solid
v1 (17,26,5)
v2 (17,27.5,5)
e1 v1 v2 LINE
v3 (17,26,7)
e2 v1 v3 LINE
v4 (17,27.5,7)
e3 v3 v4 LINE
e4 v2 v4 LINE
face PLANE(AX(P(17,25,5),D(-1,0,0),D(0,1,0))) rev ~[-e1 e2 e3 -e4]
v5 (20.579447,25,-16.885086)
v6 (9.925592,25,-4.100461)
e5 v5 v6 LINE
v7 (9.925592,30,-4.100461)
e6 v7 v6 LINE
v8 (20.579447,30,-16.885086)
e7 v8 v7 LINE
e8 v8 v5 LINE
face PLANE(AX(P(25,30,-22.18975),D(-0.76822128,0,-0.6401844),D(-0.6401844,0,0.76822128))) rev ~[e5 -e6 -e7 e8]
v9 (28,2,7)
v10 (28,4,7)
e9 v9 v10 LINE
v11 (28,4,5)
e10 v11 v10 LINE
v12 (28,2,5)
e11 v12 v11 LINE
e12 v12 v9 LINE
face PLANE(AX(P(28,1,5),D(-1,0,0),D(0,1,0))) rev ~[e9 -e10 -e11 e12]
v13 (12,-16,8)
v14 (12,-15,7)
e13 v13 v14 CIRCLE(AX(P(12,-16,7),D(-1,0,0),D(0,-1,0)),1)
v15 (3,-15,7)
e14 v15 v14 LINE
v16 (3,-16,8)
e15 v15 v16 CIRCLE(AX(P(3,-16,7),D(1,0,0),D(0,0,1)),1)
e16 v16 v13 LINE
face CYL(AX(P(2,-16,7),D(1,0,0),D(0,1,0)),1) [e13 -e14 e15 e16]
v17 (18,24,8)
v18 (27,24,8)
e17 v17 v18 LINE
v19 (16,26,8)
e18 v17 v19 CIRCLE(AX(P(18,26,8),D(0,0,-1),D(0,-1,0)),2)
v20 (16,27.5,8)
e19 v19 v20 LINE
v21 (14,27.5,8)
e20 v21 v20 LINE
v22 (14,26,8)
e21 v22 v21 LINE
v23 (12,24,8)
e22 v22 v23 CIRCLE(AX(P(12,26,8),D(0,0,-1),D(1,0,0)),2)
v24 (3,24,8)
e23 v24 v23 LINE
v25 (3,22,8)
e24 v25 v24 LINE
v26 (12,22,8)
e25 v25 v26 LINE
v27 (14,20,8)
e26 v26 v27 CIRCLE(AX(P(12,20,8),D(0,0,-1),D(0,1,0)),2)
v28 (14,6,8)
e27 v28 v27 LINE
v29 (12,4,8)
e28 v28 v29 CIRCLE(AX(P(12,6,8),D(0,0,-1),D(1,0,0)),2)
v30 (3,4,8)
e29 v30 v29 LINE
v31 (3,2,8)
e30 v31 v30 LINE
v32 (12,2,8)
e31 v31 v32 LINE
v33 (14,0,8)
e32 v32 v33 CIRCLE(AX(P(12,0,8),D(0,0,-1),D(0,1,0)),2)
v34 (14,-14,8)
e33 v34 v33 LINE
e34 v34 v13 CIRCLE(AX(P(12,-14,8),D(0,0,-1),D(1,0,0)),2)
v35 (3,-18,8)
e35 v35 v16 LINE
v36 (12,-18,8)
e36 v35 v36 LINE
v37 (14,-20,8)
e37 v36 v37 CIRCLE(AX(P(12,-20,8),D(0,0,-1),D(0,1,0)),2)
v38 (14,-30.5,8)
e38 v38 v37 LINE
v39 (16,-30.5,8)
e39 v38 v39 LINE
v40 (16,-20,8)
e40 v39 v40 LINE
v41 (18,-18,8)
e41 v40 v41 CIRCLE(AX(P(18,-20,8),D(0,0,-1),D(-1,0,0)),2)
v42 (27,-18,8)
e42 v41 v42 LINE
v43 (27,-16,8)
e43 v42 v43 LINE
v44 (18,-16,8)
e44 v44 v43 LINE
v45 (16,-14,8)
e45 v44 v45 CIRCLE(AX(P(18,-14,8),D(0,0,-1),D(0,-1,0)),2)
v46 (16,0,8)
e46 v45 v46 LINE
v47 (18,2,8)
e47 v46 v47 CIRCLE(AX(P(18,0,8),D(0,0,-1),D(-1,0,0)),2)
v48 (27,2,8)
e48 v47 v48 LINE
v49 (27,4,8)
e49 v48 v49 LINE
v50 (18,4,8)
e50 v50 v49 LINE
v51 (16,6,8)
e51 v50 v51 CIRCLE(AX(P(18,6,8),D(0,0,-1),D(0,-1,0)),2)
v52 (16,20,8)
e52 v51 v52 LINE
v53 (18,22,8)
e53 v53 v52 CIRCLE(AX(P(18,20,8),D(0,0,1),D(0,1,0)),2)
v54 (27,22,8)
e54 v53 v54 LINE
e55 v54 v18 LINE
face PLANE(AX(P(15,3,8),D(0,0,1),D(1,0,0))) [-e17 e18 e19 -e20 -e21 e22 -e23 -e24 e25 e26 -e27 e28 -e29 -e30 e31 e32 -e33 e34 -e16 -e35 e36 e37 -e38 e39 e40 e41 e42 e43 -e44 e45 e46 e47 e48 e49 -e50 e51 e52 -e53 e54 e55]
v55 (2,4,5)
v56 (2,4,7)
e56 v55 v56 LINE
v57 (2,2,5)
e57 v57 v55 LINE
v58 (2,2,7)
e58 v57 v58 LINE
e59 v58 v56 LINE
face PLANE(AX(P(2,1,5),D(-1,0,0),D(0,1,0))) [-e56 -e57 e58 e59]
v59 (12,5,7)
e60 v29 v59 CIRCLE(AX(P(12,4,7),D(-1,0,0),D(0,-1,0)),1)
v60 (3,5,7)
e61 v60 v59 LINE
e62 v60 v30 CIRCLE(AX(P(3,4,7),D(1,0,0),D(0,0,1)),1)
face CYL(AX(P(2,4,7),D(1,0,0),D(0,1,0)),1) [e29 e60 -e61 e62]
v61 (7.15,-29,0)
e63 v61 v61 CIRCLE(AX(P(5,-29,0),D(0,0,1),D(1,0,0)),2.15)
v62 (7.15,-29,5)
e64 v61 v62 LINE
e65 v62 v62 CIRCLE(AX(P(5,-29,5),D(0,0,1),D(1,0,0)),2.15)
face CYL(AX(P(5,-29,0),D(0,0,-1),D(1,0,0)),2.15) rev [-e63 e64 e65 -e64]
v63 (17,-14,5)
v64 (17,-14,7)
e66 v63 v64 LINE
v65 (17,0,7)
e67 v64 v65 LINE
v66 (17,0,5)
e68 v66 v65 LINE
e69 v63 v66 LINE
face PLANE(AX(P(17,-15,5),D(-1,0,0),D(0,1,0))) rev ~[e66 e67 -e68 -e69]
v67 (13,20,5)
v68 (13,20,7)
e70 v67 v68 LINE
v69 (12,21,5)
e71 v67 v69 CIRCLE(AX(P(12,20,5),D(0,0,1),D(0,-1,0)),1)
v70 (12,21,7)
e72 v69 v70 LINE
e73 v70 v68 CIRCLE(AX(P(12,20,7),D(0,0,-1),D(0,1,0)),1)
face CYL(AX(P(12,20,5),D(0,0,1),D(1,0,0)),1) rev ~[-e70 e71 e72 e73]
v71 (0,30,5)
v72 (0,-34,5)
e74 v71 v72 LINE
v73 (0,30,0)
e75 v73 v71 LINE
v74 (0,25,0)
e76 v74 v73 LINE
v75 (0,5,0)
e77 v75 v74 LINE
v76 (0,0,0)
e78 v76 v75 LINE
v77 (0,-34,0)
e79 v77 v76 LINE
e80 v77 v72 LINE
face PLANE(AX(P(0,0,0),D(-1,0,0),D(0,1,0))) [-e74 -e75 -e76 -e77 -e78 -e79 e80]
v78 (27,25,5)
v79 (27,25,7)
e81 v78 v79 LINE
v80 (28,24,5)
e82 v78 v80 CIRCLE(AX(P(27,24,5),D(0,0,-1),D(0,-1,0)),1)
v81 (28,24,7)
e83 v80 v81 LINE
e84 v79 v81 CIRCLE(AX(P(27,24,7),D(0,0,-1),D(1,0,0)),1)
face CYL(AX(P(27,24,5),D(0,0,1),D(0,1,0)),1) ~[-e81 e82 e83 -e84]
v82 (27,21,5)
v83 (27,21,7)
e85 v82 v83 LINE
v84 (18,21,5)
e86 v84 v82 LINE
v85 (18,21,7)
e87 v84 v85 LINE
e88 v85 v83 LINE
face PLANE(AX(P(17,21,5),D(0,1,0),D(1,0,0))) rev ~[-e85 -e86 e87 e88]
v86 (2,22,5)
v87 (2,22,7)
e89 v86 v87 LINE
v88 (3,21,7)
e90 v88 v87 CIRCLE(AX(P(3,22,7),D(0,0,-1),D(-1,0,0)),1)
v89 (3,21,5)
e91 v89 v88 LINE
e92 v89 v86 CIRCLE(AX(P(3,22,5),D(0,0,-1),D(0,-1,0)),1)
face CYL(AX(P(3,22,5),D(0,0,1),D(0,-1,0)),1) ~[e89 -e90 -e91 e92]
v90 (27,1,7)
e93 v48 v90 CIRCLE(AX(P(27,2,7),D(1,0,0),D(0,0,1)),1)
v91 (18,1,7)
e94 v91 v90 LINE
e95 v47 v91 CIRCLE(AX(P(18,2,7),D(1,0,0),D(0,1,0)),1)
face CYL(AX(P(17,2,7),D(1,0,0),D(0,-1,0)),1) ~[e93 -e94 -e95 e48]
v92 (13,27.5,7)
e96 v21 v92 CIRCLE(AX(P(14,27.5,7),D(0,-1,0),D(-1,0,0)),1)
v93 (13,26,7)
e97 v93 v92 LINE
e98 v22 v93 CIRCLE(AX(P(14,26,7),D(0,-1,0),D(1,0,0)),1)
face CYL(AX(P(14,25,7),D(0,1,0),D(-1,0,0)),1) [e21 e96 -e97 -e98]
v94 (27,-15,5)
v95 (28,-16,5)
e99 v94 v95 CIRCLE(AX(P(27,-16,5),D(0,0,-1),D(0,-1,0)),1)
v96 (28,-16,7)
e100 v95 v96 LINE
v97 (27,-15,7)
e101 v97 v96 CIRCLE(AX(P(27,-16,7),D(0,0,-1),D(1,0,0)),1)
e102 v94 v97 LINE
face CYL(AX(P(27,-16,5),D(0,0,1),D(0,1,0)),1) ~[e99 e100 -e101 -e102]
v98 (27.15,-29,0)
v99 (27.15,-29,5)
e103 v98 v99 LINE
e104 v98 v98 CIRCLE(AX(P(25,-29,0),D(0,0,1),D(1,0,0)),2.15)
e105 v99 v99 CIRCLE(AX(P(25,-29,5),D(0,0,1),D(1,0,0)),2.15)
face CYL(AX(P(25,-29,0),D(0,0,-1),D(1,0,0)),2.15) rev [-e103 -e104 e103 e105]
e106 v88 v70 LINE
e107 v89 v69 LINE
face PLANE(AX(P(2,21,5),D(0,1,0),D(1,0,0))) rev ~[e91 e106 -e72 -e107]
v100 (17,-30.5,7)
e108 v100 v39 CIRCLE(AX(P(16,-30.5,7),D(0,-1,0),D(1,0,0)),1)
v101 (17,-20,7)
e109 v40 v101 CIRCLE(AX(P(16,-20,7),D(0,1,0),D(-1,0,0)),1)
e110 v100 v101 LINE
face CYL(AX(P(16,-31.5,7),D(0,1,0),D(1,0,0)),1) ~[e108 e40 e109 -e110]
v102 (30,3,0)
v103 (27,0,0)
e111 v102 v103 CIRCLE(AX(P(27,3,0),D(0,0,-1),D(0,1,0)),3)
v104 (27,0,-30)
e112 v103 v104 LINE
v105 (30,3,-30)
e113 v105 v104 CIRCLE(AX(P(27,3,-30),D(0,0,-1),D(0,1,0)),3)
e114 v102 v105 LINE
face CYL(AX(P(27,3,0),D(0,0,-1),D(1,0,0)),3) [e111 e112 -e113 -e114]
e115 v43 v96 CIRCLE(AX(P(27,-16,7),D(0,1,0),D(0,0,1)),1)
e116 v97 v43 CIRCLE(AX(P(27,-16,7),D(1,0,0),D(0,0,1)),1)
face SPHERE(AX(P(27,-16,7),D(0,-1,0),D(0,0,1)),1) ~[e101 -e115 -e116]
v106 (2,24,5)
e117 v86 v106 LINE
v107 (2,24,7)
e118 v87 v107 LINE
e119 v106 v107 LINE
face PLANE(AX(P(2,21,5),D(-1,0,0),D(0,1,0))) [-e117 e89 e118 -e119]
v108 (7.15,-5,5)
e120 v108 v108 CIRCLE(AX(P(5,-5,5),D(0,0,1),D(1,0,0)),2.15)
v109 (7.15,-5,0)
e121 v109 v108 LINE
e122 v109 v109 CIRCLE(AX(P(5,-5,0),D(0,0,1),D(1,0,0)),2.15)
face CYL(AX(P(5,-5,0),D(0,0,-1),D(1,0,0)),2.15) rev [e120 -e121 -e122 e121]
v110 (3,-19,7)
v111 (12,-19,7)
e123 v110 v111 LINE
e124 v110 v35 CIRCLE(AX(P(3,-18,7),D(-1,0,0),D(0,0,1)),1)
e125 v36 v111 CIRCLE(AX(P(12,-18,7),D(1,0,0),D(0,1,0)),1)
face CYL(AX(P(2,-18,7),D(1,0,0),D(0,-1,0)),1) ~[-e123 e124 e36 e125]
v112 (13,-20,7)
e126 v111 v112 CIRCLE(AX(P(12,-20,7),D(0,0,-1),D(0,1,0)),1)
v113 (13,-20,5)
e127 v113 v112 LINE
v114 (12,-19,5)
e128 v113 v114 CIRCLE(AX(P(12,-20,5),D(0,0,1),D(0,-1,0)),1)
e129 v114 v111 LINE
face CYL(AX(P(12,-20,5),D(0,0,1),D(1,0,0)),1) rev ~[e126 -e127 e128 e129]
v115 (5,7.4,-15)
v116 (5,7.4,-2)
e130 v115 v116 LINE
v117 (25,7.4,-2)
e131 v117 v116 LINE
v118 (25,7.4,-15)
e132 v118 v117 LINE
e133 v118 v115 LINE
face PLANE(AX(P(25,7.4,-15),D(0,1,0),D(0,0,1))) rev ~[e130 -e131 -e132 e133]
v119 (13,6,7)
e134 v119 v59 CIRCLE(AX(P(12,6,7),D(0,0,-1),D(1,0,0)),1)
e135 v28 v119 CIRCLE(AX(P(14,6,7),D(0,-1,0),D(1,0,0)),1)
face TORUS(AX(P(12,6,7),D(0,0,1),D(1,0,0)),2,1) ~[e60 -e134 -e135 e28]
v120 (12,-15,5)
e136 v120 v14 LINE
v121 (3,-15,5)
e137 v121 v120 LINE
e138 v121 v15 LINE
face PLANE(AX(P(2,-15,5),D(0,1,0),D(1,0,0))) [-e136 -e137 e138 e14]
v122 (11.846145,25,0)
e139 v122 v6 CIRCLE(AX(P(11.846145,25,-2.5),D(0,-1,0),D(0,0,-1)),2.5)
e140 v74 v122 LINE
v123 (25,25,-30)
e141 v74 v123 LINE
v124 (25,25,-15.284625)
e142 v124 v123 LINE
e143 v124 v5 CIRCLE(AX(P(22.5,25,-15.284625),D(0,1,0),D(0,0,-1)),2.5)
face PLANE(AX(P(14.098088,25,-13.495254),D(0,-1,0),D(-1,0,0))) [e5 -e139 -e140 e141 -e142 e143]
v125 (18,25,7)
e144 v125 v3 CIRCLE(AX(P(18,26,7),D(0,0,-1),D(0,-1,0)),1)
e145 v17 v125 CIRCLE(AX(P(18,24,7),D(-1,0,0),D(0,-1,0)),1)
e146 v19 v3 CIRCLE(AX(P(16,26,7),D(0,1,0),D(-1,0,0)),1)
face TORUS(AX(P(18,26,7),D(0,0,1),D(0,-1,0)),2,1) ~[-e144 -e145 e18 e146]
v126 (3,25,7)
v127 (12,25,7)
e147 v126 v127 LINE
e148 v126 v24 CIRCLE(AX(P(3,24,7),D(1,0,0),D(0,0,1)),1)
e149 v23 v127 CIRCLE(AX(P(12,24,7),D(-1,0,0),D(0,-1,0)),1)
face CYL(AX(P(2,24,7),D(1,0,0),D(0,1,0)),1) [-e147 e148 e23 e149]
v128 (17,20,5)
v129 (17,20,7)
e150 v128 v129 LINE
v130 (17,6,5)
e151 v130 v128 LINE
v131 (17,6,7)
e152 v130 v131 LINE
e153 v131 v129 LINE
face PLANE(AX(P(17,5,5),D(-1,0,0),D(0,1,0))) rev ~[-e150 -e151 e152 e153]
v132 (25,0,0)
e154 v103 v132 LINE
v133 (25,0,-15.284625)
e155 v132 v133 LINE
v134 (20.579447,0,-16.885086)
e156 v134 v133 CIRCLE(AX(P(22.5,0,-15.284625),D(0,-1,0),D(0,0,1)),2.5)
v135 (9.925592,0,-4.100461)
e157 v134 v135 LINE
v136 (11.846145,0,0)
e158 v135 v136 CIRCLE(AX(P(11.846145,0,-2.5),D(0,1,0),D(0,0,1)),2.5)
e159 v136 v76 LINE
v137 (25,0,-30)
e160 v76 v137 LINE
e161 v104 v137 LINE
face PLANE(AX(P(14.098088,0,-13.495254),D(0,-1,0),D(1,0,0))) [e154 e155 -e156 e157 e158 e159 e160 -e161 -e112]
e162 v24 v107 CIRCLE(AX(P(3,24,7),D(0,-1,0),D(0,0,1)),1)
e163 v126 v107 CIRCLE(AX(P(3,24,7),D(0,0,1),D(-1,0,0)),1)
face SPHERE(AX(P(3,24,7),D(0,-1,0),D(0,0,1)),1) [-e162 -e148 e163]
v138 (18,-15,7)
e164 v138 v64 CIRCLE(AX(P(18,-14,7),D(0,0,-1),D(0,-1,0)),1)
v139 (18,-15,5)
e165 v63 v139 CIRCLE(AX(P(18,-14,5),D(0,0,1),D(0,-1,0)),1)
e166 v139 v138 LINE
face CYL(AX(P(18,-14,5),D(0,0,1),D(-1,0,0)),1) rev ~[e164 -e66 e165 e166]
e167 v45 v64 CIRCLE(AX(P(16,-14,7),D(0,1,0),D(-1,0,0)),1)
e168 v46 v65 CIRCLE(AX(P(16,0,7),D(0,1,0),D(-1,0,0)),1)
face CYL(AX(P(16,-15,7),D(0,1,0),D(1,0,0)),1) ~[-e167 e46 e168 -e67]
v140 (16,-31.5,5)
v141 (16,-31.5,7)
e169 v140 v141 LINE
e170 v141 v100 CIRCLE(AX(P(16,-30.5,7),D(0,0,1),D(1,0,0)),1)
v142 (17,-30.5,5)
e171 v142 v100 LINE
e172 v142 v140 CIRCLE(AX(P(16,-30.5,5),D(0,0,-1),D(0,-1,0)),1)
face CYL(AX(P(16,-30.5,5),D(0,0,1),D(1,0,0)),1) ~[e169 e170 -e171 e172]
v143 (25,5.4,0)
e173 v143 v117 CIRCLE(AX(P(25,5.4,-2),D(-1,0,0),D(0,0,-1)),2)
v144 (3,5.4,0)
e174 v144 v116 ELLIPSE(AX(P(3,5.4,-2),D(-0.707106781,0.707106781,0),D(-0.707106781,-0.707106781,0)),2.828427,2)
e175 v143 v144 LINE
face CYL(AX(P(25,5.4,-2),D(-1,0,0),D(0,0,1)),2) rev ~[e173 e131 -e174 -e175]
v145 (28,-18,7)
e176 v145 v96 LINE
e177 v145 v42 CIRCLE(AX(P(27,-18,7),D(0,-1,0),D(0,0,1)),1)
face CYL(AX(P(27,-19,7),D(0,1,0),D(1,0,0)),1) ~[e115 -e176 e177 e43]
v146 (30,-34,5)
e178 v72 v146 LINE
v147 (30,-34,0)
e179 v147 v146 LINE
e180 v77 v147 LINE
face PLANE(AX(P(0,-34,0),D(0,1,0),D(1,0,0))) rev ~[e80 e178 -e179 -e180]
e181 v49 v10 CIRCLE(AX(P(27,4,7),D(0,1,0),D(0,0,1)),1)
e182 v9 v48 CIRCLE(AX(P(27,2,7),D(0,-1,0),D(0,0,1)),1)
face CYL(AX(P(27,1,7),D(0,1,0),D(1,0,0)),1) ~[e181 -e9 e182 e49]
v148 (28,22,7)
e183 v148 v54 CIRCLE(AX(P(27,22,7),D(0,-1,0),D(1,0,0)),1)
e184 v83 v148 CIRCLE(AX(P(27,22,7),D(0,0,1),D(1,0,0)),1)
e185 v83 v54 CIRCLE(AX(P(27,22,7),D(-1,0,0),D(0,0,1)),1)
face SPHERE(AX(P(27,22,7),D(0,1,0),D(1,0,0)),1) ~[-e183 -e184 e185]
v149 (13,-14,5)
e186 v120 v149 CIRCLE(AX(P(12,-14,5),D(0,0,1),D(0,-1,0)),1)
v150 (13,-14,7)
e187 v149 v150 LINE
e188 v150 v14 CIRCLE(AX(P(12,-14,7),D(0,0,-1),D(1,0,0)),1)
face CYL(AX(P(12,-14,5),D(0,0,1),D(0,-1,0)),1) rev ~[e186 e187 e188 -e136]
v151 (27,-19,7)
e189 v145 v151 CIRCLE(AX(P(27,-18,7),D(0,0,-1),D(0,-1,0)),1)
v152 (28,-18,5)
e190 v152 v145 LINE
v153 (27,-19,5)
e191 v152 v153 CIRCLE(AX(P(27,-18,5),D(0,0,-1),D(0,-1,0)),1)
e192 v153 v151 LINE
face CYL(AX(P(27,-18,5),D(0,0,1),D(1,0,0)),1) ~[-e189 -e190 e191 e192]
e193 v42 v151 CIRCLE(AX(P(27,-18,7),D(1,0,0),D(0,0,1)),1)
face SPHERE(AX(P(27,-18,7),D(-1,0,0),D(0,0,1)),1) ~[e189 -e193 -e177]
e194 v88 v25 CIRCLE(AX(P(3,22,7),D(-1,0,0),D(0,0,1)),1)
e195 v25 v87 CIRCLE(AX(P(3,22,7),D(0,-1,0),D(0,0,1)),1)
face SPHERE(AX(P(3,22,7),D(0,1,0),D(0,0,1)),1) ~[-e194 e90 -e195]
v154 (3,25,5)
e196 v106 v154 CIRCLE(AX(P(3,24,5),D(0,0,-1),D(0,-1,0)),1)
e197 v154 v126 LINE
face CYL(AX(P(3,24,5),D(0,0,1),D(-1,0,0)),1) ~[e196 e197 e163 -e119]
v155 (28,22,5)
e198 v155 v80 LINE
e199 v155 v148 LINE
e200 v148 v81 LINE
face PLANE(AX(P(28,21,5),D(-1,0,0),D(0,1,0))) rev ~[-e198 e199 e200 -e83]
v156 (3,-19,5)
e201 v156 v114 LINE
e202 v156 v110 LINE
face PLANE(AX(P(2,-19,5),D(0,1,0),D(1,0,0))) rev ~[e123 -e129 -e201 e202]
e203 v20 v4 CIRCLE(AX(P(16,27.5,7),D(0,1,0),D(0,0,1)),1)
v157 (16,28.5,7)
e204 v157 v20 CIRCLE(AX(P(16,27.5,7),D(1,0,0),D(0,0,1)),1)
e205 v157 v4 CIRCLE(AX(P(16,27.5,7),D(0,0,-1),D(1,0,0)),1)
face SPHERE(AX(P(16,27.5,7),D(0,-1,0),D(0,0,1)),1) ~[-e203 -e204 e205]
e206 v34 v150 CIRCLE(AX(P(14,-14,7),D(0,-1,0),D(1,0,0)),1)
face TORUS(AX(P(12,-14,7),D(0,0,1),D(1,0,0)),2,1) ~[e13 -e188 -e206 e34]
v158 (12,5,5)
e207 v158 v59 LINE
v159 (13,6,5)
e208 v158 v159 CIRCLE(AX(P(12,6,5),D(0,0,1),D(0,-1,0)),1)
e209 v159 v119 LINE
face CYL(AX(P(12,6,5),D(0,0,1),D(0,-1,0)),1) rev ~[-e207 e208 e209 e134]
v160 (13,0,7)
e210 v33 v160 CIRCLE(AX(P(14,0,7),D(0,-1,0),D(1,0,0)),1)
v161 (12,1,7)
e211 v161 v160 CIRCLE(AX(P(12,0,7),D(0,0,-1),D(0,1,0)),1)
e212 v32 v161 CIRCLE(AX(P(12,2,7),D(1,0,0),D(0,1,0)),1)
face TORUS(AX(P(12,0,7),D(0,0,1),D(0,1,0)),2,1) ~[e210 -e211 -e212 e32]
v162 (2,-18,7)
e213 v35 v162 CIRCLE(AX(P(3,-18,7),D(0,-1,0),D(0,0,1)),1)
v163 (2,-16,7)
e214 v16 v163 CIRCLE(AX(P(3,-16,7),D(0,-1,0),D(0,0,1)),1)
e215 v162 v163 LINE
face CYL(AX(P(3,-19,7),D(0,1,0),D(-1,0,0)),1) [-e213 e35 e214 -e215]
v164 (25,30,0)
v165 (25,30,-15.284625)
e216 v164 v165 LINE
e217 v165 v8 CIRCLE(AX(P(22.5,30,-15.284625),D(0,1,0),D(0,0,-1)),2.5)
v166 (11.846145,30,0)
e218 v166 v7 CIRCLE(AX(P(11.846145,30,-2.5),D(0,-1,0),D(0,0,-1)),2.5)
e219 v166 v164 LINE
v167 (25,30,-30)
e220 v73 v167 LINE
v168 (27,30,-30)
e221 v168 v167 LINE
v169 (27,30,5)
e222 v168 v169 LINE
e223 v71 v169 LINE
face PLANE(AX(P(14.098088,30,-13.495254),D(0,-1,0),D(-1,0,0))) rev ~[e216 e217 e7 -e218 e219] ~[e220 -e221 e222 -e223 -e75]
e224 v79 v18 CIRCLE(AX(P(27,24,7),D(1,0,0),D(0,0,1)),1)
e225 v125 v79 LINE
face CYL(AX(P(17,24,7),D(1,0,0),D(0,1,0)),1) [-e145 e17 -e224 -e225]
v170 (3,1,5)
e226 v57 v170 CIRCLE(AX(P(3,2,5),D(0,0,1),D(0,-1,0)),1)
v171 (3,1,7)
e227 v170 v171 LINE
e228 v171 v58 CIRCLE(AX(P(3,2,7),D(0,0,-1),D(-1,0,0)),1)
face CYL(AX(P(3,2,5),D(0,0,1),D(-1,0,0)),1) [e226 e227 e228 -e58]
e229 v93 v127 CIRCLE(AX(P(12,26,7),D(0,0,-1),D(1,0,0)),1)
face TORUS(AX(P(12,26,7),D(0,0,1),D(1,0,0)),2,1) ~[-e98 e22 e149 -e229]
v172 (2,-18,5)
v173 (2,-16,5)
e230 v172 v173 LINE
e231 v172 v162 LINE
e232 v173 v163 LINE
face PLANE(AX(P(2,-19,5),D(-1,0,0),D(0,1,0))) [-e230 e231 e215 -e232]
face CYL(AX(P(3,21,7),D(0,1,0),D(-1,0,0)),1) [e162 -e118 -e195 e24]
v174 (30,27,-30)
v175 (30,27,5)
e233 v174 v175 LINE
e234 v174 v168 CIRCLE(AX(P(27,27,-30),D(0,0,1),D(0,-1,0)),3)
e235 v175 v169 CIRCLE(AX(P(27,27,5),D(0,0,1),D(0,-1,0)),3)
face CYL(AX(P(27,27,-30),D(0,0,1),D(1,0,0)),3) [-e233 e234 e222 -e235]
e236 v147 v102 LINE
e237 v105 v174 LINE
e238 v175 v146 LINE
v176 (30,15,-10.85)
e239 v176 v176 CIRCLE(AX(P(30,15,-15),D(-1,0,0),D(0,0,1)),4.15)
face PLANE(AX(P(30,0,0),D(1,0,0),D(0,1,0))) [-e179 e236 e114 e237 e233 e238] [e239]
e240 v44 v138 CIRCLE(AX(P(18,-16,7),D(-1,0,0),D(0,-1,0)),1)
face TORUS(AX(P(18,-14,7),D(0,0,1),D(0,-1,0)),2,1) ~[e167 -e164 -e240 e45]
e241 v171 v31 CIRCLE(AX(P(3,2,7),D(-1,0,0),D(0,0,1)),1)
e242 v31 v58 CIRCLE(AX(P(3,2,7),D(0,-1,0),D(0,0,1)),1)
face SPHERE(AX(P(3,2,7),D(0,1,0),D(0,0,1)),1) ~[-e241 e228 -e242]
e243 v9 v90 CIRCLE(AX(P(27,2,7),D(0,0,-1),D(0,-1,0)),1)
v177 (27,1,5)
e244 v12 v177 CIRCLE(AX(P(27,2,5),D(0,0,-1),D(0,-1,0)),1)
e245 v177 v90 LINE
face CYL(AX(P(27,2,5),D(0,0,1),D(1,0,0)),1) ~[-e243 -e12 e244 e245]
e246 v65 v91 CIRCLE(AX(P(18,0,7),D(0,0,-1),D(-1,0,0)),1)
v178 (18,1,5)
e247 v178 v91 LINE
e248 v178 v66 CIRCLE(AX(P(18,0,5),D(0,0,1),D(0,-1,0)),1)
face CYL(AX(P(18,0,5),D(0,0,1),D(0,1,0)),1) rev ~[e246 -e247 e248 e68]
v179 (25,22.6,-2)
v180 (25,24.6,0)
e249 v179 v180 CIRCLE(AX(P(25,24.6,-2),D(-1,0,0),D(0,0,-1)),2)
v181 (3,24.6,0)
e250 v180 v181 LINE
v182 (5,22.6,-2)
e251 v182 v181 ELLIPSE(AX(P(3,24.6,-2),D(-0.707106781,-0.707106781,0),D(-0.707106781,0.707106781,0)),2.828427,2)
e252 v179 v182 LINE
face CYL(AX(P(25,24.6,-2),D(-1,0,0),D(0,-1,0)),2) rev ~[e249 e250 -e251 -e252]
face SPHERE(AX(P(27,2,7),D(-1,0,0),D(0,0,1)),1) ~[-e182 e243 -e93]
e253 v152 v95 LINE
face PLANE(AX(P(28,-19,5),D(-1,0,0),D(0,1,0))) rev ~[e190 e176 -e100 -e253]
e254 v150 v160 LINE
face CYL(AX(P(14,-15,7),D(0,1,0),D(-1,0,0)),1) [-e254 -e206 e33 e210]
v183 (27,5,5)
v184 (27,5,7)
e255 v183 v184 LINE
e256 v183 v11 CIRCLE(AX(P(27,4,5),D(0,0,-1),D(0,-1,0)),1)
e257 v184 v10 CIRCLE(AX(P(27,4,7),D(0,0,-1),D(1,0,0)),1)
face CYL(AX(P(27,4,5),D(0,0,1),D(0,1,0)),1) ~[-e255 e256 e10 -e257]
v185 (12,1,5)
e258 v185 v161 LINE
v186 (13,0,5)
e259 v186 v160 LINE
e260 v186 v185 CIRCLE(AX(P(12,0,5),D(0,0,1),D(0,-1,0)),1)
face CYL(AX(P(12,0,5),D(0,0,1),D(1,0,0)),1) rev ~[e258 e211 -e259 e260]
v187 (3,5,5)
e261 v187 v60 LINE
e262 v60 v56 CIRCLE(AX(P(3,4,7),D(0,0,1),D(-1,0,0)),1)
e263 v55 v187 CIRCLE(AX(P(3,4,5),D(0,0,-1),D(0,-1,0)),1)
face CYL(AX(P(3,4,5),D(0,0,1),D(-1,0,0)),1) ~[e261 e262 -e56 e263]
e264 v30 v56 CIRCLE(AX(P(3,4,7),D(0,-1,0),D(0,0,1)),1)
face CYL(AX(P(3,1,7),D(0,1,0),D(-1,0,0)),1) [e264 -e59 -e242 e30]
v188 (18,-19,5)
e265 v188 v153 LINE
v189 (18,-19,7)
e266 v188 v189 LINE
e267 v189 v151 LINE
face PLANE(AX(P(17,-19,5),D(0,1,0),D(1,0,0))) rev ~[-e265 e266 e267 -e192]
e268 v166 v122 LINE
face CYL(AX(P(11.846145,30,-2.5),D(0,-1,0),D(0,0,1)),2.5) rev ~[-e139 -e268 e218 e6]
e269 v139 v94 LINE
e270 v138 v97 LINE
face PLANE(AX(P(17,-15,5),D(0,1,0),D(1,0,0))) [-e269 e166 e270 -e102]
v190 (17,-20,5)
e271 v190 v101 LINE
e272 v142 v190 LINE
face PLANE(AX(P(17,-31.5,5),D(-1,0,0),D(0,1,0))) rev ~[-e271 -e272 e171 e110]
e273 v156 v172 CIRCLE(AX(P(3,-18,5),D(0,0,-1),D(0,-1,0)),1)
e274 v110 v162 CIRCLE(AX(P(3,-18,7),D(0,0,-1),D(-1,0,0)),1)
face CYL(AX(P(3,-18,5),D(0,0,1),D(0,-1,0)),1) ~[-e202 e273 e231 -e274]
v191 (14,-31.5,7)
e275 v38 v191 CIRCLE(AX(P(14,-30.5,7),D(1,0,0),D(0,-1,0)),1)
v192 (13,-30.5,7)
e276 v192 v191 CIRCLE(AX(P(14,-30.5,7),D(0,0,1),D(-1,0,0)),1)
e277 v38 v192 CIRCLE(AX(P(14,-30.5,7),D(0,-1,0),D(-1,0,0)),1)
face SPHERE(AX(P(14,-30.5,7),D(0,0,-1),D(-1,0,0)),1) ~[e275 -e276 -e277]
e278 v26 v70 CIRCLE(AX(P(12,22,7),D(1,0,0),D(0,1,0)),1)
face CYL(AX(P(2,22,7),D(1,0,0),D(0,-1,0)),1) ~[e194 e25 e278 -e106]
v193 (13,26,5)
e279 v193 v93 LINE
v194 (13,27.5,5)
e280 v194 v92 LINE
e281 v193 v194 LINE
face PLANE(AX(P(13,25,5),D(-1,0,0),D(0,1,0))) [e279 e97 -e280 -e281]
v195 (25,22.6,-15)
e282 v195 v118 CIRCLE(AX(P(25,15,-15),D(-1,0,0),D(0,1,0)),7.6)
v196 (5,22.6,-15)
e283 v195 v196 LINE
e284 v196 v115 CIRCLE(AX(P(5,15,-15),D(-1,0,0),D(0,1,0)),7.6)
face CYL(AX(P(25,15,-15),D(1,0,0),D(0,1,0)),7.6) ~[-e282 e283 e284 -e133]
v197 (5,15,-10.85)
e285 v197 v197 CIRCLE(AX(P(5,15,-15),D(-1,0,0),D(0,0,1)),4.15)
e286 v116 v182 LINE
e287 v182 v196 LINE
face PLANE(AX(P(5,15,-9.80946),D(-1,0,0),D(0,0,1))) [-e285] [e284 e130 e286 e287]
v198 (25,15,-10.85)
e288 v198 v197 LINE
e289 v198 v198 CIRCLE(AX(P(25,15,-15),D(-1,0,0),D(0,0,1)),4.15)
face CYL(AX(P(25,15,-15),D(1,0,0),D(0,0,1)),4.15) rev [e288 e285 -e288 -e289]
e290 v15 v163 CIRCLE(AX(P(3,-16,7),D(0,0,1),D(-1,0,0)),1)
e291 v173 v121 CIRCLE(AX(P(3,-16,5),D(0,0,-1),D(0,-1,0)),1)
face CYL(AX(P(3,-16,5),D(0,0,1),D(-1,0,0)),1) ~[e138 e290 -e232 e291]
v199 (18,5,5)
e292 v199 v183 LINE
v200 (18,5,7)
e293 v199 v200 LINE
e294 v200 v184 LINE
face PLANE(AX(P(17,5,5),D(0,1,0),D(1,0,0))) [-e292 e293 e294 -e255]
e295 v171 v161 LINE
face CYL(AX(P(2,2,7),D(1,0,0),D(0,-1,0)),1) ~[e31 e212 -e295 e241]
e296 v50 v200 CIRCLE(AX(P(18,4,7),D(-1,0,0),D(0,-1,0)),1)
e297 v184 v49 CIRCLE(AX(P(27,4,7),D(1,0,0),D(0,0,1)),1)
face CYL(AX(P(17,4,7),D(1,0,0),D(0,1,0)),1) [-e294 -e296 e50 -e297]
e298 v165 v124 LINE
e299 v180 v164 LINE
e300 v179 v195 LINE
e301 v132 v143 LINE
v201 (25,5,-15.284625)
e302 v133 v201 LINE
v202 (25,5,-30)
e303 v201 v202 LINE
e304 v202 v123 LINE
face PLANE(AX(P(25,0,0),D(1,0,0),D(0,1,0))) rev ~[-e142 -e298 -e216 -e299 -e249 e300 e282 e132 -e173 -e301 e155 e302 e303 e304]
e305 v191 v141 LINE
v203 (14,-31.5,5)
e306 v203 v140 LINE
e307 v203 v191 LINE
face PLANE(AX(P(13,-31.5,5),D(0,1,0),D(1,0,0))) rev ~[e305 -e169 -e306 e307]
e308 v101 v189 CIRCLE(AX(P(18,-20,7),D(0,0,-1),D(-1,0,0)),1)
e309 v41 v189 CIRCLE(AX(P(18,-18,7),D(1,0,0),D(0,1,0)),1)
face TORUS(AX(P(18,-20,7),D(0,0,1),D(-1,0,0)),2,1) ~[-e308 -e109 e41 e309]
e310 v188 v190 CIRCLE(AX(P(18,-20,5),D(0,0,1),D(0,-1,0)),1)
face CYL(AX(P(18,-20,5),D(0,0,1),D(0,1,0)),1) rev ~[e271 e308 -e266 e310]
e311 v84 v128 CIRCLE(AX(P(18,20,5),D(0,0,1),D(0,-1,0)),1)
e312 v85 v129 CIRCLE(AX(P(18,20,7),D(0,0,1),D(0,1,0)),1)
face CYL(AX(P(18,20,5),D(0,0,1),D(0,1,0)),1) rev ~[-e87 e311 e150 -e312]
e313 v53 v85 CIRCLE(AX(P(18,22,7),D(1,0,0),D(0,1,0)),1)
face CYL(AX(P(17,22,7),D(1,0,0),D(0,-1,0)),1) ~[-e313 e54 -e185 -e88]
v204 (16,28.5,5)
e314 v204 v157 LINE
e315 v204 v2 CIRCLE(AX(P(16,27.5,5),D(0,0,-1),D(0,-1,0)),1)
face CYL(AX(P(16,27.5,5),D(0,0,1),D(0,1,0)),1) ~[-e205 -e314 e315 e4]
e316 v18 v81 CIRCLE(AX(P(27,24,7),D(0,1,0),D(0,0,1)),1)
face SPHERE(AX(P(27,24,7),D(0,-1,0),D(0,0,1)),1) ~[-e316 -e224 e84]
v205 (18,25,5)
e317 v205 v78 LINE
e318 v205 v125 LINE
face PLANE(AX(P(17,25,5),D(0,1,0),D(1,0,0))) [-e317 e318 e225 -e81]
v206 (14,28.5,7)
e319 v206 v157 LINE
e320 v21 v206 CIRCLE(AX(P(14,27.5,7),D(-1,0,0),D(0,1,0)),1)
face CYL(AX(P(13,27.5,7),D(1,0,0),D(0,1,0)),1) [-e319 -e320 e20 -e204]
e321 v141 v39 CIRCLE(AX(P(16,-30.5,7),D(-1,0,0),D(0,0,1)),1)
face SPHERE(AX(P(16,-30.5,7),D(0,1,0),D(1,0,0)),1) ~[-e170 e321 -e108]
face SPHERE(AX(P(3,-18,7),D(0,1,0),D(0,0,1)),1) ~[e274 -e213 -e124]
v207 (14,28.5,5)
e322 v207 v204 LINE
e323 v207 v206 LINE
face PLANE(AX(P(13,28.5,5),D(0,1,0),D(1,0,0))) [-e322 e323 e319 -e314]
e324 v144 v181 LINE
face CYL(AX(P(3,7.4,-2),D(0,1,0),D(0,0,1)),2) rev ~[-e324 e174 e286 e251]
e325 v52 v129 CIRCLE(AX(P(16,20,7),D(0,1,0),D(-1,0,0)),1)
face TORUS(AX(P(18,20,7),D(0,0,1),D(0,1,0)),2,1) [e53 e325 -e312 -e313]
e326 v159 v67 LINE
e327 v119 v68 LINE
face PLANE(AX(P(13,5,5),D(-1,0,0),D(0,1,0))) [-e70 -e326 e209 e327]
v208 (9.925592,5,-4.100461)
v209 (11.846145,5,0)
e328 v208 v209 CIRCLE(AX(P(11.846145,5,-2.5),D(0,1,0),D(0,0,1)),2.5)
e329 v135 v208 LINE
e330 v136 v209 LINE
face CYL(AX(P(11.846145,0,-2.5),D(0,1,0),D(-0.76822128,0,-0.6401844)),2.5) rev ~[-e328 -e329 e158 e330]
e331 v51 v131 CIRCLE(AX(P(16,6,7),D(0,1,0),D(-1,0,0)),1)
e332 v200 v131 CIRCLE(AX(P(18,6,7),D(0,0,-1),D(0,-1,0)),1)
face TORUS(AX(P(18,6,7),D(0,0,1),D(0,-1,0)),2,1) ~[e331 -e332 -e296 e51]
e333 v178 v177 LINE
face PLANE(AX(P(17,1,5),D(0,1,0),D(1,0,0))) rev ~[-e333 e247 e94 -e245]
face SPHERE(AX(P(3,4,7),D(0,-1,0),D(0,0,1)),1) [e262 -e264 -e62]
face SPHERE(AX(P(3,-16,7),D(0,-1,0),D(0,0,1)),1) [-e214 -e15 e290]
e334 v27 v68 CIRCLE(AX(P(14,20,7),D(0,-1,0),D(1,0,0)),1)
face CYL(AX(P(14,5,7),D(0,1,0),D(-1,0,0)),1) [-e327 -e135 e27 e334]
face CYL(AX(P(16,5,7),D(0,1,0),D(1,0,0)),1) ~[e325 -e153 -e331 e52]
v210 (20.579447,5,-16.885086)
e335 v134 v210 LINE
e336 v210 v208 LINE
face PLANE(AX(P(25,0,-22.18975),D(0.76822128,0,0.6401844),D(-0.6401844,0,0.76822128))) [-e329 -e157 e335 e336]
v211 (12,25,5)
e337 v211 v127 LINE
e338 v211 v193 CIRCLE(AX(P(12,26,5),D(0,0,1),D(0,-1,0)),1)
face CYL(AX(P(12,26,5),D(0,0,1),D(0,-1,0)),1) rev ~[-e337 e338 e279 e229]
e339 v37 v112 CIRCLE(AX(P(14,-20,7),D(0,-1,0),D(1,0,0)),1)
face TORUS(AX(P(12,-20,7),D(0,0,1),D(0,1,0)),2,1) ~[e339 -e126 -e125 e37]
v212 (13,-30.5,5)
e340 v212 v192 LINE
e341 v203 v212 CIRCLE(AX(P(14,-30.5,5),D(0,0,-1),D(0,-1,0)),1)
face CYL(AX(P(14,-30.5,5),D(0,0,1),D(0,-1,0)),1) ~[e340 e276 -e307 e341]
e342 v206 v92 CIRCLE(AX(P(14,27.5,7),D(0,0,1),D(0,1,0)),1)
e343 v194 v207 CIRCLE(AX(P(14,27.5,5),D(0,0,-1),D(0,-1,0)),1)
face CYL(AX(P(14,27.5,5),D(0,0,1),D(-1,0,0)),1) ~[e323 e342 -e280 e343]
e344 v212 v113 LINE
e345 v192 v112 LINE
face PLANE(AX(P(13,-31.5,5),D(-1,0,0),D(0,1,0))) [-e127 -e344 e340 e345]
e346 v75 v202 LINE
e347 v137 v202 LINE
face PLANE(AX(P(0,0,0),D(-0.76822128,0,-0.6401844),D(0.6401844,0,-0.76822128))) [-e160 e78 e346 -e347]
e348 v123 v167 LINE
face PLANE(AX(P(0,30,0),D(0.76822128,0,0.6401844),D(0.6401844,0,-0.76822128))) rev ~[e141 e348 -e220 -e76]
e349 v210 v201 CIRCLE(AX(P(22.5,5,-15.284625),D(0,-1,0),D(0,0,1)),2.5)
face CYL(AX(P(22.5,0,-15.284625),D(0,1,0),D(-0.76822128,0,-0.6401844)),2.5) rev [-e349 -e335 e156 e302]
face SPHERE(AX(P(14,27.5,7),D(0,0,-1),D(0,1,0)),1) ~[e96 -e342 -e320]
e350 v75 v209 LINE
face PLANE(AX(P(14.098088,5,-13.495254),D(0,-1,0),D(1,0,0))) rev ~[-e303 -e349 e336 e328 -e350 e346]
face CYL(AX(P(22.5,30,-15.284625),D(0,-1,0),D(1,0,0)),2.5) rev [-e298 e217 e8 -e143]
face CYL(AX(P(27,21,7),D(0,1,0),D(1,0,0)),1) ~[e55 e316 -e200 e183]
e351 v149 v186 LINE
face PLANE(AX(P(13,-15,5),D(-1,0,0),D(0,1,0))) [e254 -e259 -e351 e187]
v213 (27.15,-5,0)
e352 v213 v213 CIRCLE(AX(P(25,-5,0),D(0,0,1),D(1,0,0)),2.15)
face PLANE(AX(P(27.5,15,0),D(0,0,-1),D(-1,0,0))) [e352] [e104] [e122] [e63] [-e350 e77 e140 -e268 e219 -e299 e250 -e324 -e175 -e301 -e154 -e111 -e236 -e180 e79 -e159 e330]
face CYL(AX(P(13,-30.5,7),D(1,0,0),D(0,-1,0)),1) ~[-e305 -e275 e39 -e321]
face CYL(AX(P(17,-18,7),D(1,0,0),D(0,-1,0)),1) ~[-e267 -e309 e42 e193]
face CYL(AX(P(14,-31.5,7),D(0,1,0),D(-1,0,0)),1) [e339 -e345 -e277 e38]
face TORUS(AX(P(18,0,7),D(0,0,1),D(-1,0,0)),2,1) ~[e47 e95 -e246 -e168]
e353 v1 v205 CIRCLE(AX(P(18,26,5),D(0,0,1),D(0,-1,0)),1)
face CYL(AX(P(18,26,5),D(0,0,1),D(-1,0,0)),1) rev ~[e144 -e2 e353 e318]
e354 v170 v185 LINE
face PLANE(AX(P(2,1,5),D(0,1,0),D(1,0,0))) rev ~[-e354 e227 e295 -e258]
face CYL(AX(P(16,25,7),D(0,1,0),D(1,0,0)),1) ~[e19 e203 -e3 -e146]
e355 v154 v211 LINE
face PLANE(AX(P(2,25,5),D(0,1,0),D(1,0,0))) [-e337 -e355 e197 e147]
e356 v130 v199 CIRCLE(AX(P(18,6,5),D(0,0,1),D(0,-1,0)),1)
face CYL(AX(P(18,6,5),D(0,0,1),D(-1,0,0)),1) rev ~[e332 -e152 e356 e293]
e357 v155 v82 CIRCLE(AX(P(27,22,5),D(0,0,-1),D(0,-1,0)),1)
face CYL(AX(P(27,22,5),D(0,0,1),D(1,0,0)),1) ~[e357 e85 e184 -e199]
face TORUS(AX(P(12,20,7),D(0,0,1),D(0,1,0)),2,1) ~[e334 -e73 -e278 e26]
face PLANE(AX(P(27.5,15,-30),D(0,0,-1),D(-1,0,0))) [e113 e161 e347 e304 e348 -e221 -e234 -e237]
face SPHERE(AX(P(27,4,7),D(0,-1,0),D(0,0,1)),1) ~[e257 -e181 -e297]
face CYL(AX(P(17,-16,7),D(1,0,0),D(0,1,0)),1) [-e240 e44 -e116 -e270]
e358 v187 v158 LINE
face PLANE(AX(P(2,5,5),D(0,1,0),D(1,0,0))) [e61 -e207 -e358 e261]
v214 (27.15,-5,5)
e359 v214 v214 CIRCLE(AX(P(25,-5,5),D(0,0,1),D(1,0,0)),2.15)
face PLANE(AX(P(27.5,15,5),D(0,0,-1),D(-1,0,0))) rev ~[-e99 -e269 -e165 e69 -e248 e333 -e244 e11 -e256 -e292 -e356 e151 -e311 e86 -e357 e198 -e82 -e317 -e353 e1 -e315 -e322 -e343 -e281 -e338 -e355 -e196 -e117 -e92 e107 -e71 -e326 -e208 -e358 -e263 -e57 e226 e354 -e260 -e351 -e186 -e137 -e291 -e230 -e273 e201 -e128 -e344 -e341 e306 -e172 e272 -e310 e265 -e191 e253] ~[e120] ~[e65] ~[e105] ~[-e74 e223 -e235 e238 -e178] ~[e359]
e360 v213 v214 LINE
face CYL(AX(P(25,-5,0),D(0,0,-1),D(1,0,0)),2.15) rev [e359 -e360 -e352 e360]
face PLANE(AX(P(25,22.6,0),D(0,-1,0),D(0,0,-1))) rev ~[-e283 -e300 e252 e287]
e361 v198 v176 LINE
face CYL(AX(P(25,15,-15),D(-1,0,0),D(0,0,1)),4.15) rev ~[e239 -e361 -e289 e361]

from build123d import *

# Parameters (mm, degrees)
SKETCH3_W           = 30
SKETCH3_H           = 34
SKETCH3_R           = 2.15
BOSS_EXTRUDE1_DEPTH = 5
SKETCH5_W           = 5
SKETCH5_H           = 30
SKETCH5_W_2         = 25
BOSS_EXTRUDE4_DEPTH = 5
SKETCH6_W           = 5
SKETCH6_H           = 30
BOSS_EXTRUDE5_DEPTH = 30
SKETCH7_W           = 26
SKETCH7_H           = 4
SKETCH7_W_2         = 4
SKETCH7_H_2         = 60
BOSS_EXTRUDE6_DEPTH = 3
FILLET1_R           = 1
BOSS_EXTRUDE7_DEPTH = 5
BOSS_EXTRUDE8_DEPTH = 5
FILLET2_R           = 2.5
SKETCH11_R          = 4.15
CUT_EXTRUDE1_DEPTH  = 6
FILLET3_R           = 3
FILLET4_R           = 3
SKETCH13_R          = 4.15
BOSS_EXTRUDE9_DEPTH = 20
FILLET5_R           = 2


with BuildPart() as part:
    # Sketch3 → Boss-Extrude1 (new body)
    with BuildSketch(Plane.XY):
        with Locations((15, -17)):
            Rectangle(SKETCH3_W, SKETCH3_H)
        with Locations((5, -5)):
            Circle(SKETCH3_R, mode=Mode.SUBTRACT)
        with Locations((25, -5)):
            Circle(SKETCH3_R, mode=Mode.SUBTRACT)
        with Locations((5, -29)):
            Circle(SKETCH3_R, mode=Mode.SUBTRACT)
        with Locations((25, -29)):
            Circle(SKETCH3_R, mode=Mode.SUBTRACT)
    extrude(amount=BOSS_EXTRUDE1_DEPTH)

    # Sketch5 → Boss-Extrude4 (add)
    with BuildSketch(Plane(origin=(0, 0, 0), x_dir=(-1, 0, 0), z_dir=(0, 0, -1))):
        with Locations((-27.5, 15)):
            Rectangle(SKETCH5_W, SKETCH5_H)
        with Locations((-12.5, 15)):
            Rectangle(SKETCH5_W_2, SKETCH5_H)
    extrude(amount=-BOSS_EXTRUDE4_DEPTH)

    # Sketch6 → Boss-Extrude5 (add)
    with BuildSketch(Plane(origin=(0, 0, 0), x_dir=(-1, 0, 0), z_dir=(0, 0, -1))):
        with Locations((-27.5, 15)):
            Rectangle(SKETCH6_W, SKETCH6_H)
    extrude(amount=BOSS_EXTRUDE5_DEPTH)

    # Sketch7 → Boss-Extrude6 (add)
    with BuildSketch(Plane.XY.offset(5)):
        with Locations((15, 3)):
            Rectangle(SKETCH7_W, SKETCH7_H)
        with Locations((15, -1.5)):
            Rectangle(SKETCH7_W_2, SKETCH7_H_2)
        with Locations((15, -17)):
            Rectangle(SKETCH7_W, SKETCH7_H)
        with Locations((15, 23)):
            Rectangle(SKETCH7_W, SKETCH7_H)
    extrude(amount=BOSS_EXTRUDE6_DEPTH)

    # Fillet1
    fillet1_edges = [part.edges().sort_by_distance(p)[0] for p in [
        (17, 26.75, 8),
        (17, 25, 6.5),
        (17, 13, 8),
        (17, 5, 6.5),
        (17, -7, 8),
        (17, -15, 6.5),
        (17, -25.25, 8),
        (17, -31.5, 6.5),
        (13, -31.5, 6.5),
        (13, 28.5, 6.5),
        (13, 21, 6.5),
        (13, 1, 6.5),
        (13, -19, 6.5),
        (15, 28.5, 8),
        (17, 28.5, 6.5),
        (28, 23, 8),
        (28, 21, 6.5),
        (22.5, 25, 8),
        (28, 25, 6.5),
        (17, 21, 6.5),
        (13, 26.75, 8),
        (2, 23, 8),
        (7.5, 21, 8),
        (13, 13, 8),
        (2, 3, 8),
        (7.5, 1, 8),
        (13, -7, 8),
        (2, -17, 8),
        (7.5, -19, 8),
        (13, -25.25, 8),
        (15, -31.5, 8),
        (22.5, -19, 8),
        (22.5, 1, 8),
        (22.5, 21, 8),
        (28, 3, 8),
        (28, 1, 6.5),
        (22.5, 5, 8),
        (28, 5, 6.5),
        (17, 1, 6.5),
        (28, -17, 8),
        (28, -19, 6.5),
        (22.5, -15, 8),
        (28, -15, 6.5),
        (17, -19, 6.5),
        (7.5, 25, 8),
        (13, 25, 6.5),
        (2, 25, 6.5),
        (2, 21, 6.5),
        (7.5, 5, 8),
        (13, 5, 6.5),
        (2, 5, 6.5),
        (2, 1, 6.5),
        (7.5, -15, 8),
        (13, -15, 6.5),
        (2, -15, 6.5),
        (2, -19, 6.5),
    ]]
    fillet(fillet1_edges, radius=FILLET1_R)

    # Sketch9 → Boss-Extrude7 (add)
    with BuildSketch(Plane(origin=(0, 30, 0), x_dir=(1, 0, 0), z_dir=(0, 1, 0))):
        Polygon((25, 22.189750324), (6.508541397, 0), (0, 0), (25, 30), align=None)
    extrude(amount=-BOSS_EXTRUDE7_DEPTH)

    # Sketch10 → Boss-Extrude8 (add)
    with BuildSketch(Plane.XZ):
        Polygon((25, -30), (25, -22.189750324), (6.508541397, 0), (0, 0), align=None)
    extrude(amount=-BOSS_EXTRUDE8_DEPTH)

    # Fillet2
    fillet2_edges = [part.edges().sort_by_distance(p)[0] for p in [
        (25, 27.5, -22.189750324),
        (6.508541397, 27.5, 0),
        (6.508541397, 2.5, 0),
        (25, 2.5, -22.189750324),
    ]]
    fillet(fillet2_edges, radius=FILLET2_R)

    # Sketch11 → Cut-Extrude1 (cut, through all)
    with BuildSketch(Plane.ZY.offset(-25)):
        with Locations((-15, 15)):
            Circle(SKETCH11_R)
    extrude(amount=-CUT_EXTRUDE1_DEPTH, mode=Mode.SUBTRACT)

    # Fillet3
    fillet3_edges = [part.edges().sort_by_distance(p)[0] for p in [
        (30, 30, -12.5),
    ]]
    fillet(fillet3_edges, radius=FILLET3_R)

    # Fillet4
    fillet4_edges = [part.edges().sort_by_distance(p)[0] for p in [
        (30, 0, -15),
    ]]
    fillet(fillet4_edges, radius=FILLET4_R)

    # Sketch13 → Boss-Extrude9 (add)
    with BuildSketch(Plane.ZY.offset(-25)):
        with BuildLine():
            Line((0, 22.6), (-15, 22.6))
            ThreePointArc((-15, 22.6), (-22.6, 15), (-15, 7.4))
            Line((-15, 7.4), (0, 7.4))
            Line((0, 7.4), (0, 22.6))
        make_face()
        with Locations((-15, 15)):
            Circle(SKETCH13_R, mode=Mode.SUBTRACT)
    extrude(amount=BOSS_EXTRUDE9_DEPTH)

    # Fillet5
    fillet5_edges = [part.edges().sort_by_distance(p)[0] for p in [
        (15, 22.6, 0),
        (15, 7.4, 0),
        (5, 15, 0),
    ]]
    fillet(fillet5_edges, radius=FILLET5_R)


solid = part.part
